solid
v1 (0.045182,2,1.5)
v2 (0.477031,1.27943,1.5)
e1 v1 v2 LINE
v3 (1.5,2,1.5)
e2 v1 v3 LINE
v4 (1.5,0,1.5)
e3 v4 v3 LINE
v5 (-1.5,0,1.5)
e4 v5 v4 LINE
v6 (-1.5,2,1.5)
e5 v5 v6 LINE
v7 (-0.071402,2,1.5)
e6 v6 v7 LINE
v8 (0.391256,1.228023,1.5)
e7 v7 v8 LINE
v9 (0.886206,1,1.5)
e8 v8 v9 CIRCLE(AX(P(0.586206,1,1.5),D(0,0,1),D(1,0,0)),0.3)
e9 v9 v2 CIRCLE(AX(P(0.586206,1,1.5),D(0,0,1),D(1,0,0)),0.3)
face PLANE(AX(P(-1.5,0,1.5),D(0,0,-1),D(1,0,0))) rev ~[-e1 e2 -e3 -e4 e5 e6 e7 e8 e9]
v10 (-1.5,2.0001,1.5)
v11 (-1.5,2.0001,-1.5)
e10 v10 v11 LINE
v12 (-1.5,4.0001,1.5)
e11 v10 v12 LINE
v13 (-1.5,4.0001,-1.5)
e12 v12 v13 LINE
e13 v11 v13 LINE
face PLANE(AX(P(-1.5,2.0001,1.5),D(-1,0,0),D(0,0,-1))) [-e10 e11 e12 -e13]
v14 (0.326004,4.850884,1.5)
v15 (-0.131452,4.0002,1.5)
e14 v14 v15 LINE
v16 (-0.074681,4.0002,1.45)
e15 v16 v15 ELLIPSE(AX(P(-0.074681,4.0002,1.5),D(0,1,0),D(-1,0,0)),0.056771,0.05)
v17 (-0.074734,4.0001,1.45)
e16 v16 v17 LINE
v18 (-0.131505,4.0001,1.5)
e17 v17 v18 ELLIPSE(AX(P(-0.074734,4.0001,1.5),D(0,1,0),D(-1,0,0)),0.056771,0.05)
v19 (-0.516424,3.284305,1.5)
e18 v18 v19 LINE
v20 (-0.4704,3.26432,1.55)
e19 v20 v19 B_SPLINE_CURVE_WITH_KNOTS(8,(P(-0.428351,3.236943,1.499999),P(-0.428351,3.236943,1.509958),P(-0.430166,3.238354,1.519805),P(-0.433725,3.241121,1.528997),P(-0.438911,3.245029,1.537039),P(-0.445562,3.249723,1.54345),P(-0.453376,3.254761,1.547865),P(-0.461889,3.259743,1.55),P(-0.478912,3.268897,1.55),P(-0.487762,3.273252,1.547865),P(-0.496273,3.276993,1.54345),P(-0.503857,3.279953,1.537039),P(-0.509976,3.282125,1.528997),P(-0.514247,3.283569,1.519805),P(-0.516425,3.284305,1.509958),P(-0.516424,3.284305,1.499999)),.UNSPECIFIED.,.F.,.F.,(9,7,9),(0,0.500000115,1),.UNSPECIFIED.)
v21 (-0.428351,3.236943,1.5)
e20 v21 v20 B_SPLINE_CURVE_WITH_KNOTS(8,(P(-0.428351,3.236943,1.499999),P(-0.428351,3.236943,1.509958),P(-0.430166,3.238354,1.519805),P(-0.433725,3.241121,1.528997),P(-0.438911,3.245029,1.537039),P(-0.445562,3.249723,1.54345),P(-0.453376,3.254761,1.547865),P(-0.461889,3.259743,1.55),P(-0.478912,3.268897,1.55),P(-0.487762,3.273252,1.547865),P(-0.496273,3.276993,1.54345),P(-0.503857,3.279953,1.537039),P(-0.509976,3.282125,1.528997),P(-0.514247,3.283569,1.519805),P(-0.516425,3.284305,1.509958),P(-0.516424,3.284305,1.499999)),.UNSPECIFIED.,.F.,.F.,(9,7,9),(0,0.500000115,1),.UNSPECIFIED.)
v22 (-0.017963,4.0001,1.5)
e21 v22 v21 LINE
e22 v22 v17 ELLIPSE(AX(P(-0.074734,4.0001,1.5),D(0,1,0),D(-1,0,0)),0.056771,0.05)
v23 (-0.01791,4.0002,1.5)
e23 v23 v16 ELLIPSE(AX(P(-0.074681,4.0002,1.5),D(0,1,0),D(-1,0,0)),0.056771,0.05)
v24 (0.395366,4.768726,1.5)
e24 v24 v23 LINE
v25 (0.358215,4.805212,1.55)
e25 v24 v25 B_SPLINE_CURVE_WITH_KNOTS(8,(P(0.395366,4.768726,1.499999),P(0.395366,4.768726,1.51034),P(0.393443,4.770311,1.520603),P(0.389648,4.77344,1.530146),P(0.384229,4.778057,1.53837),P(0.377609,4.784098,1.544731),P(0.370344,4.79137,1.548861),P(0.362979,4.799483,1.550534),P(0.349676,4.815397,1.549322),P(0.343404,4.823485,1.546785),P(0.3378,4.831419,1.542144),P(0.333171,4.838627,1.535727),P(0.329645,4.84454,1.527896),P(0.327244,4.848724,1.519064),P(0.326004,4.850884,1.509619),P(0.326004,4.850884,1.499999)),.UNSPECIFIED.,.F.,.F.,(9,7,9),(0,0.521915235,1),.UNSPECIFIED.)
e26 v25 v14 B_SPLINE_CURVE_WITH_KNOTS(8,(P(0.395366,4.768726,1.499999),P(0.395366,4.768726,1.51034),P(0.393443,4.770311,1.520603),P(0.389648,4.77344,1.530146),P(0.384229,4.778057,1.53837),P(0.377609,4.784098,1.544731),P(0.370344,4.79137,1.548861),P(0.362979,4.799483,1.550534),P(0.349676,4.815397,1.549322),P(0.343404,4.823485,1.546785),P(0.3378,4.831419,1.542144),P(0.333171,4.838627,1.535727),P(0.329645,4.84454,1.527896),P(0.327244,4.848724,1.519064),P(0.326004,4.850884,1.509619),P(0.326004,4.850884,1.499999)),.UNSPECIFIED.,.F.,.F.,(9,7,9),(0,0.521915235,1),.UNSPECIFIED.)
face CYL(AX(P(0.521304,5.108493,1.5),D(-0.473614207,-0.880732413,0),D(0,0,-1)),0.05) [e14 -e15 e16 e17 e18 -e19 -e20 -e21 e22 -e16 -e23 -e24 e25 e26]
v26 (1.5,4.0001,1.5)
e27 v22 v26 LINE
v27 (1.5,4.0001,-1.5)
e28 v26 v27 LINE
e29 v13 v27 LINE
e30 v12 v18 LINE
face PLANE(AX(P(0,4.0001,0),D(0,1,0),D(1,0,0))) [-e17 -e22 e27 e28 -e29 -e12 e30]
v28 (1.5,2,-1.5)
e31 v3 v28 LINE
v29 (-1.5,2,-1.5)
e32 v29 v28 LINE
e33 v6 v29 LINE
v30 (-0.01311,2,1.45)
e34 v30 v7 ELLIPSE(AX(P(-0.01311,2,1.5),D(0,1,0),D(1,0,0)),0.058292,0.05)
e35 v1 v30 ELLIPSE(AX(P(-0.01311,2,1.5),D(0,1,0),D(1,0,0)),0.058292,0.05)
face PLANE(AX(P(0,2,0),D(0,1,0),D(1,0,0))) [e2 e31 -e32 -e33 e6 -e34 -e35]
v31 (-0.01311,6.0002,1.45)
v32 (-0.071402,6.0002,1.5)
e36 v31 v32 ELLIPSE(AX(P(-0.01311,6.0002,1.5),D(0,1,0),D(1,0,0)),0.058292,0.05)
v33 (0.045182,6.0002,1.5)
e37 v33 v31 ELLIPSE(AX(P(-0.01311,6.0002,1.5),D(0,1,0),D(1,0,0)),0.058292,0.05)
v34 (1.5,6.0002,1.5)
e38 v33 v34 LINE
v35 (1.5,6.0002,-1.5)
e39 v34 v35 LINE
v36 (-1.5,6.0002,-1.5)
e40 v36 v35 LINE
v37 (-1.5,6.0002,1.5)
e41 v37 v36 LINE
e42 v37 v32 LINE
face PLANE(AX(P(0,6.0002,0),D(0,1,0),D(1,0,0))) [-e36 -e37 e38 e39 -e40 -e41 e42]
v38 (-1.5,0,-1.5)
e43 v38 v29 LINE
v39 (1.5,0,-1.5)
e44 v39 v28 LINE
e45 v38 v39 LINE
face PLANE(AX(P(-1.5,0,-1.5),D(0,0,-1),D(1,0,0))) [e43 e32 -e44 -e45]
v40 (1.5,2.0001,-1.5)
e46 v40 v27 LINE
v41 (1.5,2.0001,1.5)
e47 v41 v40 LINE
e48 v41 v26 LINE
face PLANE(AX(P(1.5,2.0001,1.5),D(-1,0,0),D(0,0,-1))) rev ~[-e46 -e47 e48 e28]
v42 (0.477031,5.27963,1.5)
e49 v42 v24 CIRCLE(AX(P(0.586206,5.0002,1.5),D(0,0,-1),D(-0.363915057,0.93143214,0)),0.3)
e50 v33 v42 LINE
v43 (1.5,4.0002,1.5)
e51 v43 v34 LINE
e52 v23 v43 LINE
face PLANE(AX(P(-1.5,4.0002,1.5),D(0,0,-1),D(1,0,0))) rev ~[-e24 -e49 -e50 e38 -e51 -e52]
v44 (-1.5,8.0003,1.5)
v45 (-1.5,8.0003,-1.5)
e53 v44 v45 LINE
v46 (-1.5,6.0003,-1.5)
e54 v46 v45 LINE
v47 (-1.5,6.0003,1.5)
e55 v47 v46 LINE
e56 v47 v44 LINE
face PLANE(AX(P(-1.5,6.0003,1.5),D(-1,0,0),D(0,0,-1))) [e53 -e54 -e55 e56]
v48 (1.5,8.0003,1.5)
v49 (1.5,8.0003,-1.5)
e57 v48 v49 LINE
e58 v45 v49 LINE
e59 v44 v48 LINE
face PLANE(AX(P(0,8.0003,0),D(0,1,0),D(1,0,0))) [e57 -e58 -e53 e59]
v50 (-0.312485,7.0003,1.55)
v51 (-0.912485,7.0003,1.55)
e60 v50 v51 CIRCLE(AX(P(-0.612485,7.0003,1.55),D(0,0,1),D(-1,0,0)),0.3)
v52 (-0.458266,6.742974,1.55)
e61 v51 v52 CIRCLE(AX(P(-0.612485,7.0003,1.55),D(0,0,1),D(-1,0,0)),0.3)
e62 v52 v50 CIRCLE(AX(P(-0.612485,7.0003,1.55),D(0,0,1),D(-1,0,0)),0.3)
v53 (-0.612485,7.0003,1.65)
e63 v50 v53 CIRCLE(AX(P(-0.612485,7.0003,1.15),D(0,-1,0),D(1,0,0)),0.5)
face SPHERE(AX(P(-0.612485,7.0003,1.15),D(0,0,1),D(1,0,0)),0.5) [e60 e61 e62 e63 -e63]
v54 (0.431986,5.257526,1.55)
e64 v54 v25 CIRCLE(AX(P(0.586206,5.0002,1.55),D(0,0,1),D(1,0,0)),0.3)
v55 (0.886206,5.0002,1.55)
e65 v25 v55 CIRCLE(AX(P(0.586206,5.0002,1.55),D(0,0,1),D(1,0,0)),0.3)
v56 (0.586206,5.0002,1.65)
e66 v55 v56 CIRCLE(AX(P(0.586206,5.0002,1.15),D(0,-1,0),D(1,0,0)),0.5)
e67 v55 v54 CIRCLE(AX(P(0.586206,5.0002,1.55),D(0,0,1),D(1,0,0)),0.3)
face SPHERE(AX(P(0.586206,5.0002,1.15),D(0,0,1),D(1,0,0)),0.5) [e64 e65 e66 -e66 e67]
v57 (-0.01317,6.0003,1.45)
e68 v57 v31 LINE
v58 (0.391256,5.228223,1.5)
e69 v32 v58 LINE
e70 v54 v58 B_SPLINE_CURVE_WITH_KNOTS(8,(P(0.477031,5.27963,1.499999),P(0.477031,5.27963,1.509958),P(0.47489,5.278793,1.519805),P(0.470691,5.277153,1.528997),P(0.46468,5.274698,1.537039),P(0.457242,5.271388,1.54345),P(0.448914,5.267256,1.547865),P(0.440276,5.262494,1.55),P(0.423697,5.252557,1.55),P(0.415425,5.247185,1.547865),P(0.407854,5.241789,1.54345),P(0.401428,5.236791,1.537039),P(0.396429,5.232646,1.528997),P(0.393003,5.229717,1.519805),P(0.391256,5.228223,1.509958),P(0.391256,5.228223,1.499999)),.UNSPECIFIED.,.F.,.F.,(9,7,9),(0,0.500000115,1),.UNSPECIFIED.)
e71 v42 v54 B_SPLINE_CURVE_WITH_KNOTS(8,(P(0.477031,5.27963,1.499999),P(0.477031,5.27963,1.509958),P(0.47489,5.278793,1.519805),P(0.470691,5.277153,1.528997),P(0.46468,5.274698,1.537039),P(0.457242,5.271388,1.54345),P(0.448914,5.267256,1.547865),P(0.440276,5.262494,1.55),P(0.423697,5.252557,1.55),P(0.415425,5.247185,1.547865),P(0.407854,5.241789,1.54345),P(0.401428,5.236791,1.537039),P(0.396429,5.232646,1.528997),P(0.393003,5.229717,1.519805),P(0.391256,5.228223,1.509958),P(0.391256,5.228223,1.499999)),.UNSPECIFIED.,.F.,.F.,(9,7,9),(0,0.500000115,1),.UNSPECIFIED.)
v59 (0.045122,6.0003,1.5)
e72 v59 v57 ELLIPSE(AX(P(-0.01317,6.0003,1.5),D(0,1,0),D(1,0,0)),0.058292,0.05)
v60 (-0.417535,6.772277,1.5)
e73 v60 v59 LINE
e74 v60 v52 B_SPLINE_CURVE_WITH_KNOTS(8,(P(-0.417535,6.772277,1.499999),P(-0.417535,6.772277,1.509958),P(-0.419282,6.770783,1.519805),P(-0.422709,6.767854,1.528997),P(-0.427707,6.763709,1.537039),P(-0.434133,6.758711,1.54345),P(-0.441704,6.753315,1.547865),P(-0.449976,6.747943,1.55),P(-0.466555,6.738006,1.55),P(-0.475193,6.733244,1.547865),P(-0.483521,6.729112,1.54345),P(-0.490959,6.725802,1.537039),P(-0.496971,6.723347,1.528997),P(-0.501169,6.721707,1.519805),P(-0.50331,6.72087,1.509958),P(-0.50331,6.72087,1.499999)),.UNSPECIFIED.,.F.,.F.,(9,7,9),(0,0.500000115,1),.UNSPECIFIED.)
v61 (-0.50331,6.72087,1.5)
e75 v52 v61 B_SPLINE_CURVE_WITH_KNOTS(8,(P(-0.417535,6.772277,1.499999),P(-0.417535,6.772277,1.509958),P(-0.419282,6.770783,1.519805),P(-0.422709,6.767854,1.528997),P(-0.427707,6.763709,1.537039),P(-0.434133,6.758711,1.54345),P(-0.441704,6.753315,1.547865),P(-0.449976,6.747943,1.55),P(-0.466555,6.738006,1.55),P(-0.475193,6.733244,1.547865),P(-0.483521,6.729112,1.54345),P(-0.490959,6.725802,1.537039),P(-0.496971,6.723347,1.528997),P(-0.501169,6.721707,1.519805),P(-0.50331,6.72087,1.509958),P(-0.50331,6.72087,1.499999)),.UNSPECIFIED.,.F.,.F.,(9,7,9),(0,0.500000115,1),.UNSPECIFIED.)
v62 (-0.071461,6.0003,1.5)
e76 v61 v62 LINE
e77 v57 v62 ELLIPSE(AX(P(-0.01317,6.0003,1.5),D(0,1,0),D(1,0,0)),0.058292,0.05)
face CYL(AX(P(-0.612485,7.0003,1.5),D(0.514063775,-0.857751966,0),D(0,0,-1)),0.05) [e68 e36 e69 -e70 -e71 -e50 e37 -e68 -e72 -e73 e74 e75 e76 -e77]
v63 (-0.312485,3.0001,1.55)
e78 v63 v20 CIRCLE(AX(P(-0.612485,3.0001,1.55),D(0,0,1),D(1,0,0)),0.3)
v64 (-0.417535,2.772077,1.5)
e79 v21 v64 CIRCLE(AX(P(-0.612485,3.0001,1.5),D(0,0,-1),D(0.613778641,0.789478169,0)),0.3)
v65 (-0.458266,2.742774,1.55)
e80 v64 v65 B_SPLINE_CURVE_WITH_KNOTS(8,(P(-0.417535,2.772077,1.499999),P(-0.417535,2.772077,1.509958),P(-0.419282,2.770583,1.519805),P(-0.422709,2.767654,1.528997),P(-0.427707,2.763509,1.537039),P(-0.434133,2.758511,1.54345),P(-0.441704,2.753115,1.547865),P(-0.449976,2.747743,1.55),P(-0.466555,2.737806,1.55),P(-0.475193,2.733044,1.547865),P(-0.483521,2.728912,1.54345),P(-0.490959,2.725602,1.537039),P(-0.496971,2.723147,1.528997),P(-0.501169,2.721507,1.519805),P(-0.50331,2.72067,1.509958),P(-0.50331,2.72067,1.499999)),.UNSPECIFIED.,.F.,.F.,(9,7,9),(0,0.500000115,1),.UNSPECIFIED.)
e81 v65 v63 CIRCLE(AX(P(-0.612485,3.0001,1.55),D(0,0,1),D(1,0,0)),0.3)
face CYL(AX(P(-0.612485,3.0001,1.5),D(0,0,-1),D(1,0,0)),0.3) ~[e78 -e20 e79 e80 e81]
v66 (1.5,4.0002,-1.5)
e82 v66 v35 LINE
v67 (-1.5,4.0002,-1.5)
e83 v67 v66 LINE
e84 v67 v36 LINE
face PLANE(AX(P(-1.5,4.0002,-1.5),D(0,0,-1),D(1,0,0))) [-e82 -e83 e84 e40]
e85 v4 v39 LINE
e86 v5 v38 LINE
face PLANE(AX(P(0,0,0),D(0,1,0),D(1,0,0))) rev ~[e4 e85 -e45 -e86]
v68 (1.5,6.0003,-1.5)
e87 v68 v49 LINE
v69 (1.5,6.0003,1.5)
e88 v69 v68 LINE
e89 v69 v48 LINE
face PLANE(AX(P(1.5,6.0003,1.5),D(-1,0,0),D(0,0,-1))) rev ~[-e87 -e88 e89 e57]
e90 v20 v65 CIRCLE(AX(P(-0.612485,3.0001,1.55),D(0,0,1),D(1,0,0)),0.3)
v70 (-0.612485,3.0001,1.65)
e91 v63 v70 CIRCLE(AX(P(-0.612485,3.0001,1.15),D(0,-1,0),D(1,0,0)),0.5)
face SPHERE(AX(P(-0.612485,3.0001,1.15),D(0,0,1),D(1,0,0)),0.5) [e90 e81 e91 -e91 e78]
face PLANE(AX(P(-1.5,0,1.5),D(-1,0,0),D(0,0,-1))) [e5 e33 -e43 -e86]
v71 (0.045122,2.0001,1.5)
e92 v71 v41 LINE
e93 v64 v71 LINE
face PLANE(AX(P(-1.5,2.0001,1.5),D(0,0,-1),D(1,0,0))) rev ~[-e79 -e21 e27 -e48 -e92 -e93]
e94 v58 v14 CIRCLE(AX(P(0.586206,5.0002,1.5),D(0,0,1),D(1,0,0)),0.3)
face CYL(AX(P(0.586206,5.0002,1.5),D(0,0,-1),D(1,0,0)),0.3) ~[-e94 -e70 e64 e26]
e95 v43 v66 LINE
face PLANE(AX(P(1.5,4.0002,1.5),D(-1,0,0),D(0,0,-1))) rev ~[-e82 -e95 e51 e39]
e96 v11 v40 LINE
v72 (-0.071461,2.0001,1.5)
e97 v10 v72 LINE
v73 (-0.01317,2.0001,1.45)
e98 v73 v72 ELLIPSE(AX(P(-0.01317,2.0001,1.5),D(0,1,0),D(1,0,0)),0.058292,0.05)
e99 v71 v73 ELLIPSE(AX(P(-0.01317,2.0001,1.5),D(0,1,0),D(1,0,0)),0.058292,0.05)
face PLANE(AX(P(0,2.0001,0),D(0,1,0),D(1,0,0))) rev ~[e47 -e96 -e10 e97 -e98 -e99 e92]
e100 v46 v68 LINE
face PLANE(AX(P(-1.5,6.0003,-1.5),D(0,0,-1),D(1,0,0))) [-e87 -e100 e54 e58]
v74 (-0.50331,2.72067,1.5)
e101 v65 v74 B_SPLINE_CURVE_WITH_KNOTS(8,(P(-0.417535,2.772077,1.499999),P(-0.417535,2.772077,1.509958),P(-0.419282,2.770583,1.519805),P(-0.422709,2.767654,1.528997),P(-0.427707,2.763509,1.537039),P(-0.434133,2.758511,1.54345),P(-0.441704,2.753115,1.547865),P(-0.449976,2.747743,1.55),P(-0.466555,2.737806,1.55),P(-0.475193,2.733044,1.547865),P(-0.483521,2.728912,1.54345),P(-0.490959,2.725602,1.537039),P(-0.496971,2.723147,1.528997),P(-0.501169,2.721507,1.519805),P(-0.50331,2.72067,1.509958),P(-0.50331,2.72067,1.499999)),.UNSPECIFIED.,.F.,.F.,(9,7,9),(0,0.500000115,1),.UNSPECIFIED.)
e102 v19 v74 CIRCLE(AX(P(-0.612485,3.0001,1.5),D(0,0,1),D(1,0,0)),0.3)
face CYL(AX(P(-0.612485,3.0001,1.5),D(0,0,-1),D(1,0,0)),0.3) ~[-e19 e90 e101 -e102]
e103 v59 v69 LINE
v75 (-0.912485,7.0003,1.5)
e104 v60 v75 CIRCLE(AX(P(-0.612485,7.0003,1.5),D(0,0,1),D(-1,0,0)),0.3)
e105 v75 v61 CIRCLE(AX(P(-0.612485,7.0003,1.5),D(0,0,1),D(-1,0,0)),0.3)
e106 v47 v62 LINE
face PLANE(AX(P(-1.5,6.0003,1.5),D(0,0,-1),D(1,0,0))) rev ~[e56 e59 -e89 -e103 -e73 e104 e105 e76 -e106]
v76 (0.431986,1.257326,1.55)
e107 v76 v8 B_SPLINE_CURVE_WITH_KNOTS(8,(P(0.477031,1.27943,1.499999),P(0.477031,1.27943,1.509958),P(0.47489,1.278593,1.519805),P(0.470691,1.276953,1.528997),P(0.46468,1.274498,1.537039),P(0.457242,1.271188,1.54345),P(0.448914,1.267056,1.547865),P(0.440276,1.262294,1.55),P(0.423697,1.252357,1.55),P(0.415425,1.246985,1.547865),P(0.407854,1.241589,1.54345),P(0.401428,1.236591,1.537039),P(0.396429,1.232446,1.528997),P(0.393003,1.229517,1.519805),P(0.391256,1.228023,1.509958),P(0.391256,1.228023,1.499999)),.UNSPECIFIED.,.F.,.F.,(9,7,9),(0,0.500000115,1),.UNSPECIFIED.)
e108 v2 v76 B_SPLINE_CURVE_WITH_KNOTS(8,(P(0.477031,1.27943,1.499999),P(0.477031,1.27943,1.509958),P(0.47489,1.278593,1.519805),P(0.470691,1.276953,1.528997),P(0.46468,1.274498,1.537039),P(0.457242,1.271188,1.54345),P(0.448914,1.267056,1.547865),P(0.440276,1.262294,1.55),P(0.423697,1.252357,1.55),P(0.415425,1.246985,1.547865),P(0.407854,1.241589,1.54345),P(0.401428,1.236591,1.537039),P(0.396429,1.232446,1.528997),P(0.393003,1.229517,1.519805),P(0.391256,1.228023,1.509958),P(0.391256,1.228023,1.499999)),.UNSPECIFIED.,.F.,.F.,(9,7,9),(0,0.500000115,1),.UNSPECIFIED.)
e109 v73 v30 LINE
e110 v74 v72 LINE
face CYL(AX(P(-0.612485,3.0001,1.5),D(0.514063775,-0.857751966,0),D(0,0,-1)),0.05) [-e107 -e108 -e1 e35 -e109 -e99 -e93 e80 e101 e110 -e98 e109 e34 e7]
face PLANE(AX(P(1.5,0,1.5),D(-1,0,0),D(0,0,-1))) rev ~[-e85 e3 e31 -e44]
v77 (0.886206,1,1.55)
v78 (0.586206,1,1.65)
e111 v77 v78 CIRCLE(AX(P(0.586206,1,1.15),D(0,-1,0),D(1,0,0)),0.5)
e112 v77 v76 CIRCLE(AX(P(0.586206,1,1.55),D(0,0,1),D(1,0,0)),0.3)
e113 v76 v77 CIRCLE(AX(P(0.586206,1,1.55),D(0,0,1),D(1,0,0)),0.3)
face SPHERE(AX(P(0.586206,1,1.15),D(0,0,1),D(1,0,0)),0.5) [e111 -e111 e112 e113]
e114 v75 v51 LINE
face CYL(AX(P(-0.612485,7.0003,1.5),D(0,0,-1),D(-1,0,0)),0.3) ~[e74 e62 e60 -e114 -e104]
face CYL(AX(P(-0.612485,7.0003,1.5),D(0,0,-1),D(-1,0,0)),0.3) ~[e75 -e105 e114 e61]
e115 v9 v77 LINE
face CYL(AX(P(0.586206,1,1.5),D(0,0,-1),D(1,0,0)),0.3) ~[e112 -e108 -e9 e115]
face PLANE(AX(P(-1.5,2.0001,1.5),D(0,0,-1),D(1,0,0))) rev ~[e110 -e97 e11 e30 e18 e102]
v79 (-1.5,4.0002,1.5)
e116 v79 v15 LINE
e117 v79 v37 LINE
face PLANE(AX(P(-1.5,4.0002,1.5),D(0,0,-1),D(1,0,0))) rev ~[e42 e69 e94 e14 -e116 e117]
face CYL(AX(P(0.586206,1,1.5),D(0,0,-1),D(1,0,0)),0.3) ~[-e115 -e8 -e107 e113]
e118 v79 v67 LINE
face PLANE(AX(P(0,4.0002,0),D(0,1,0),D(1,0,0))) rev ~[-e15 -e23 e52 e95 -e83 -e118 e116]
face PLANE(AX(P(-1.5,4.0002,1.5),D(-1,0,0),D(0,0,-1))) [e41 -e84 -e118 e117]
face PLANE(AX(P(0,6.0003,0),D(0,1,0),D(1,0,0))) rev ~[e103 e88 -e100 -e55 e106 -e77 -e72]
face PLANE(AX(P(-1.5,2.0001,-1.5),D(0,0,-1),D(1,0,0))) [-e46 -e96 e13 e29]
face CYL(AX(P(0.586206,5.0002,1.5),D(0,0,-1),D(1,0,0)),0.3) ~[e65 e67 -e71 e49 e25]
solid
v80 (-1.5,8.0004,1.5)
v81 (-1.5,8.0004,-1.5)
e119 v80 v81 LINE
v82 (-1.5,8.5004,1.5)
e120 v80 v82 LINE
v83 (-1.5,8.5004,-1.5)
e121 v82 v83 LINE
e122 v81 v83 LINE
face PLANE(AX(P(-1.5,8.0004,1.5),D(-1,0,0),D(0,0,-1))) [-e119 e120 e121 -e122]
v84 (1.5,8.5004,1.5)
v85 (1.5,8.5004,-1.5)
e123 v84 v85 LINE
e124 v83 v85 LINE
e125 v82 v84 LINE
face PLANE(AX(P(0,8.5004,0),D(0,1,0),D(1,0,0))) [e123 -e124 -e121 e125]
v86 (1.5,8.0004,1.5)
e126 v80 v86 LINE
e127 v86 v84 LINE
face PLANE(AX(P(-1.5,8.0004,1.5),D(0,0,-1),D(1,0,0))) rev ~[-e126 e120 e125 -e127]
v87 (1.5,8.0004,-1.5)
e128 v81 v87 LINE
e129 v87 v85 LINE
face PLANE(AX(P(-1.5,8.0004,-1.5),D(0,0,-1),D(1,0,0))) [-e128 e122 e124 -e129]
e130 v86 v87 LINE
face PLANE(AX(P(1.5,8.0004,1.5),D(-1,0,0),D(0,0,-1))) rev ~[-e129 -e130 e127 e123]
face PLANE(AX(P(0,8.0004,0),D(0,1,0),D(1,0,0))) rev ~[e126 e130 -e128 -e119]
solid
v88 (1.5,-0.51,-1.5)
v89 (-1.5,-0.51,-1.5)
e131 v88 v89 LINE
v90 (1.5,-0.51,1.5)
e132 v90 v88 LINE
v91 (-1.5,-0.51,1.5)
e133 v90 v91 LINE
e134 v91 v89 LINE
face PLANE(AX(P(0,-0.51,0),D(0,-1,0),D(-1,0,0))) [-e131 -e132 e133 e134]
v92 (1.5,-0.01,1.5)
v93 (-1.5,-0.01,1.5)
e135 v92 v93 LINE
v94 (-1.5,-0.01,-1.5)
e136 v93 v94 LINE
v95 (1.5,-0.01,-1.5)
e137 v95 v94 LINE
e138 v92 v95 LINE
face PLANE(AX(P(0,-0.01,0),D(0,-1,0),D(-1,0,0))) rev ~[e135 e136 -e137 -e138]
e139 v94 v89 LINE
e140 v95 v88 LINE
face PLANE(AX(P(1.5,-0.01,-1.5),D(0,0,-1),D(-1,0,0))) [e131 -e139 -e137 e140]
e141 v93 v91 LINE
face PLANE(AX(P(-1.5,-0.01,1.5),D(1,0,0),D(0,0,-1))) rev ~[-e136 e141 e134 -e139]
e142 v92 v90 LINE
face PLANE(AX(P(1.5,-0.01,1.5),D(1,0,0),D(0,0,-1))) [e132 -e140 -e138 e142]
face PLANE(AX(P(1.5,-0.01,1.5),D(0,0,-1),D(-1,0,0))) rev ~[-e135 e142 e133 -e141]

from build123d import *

# Parameters (mm, degrees)
SKETCH1_W           = 3
SKETCH1_H           = 3
BOSS_EXTRUDE1_DEPTH = 2
LPATTERN3_COUNT     = 4
LPATTERN3_PITCH     = 2.0001
SKETCH2_W           = 3
SKETCH2_H           = 3
BOSS_EXTRUDE2_DEPTH = 0.5
SKETCH7_R           = 0.3
BOSS_EXTRUDE6_DEPTH = 0.05
DOME1_FACE_RADIUS   = 0.3
DOME1_HEIGHT        = 0.1
DOME5_FACE_RADIUS   = 0.3
DOME5_HEIGHT        = 0.1
DOME6_FACE_RADIUS   = 0.3
DOME6_HEIGHT        = 0.1
DOME7_FACE_RADIUS   = 0.3
DOME7_HEIGHT        = 0.1
SKETCH9_R           = 0.05
SKETCH34_W          = 3
SKETCH34_H          = 3
BOSS_EXTRUDE7_DEPTH = 0.5


with BuildPart() as part:
    # Sketch1 → Boss-Extrude1 (new body)
    with BuildSketch(Plane(origin=(0, 0, 0), x_dir=(1, 0, 0), z_dir=(0, 1, 0))):
        Rectangle(SKETCH1_W, SKETCH1_H)
    extrude(amount=BOSS_EXTRUDE1_DEPTH)


with BuildPart() as lpattern3_1:
    # LPattern3: pattern copy
    add(part.part.moved(Location(Vector(0, 1, 0) * (1 * LPATTERN3_PITCH))))


with BuildPart() as lpattern3_2:
    # LPattern3: pattern copy
    add(part.part.moved(Location(Vector(0, 1, 0) * (2 * LPATTERN3_PITCH))))


with BuildPart() as lpattern3_3:
    # LPattern3: pattern copy
    add(part.part.moved(Location(Vector(0, 1, 0) * (3 * LPATTERN3_PITCH))))

    # Sketch7 → Boss-Extrude6 (add)
    with BuildSketch(Plane.XY.offset(1.5)):
        with Locations(Location((-0.612484748, 7.0003, 0), (0, 0, 180))):
            Circle(SKETCH7_R)
        with Locations((0.586205547, 5.0002)):
            Circle(SKETCH7_R)
        with Locations((-0.612484748, 3.0001)):
            Circle(SKETCH7_R)
        with Locations((0.586205547, 1)):
            Circle(SKETCH7_R)
    extrude(amount=BOSS_EXTRUDE6_DEPTH)


with BuildPart() as body_5:
    # Sketch2 → Boss-Extrude2 (new body)
    with BuildSketch(Plane(origin=(0, -0.01, 0), x_dir=(-1, 0, 0), z_dir=(0, -1, 0))):
        Rectangle(SKETCH2_W, SKETCH2_H)
    extrude(amount=BOSS_EXTRUDE2_DEPTH)


with BuildPart() as boss_extrude6_piece_1:
    # of the separate pieces the step leaves, piece 1, a body of its own (boss_extrude6_pieces)
    add(lpattern3_3.part.solids().sort_by_distance((-1.5, 6.0003, -1.5))[0])

    # Dome1: a dome of height H over a round flat face of radius A is a cap of a sphere of radius (A * A + H * H) / (2 * H)
    dome1_r = (DOME1_FACE_RADIUS * DOME1_FACE_RADIUS + DOME1_HEIGHT * DOME1_HEIGHT) / (2 * DOME1_HEIGHT)
    dome1_base = Plane((-0.612484748, 7.0003, 1.55), z_dir=(0, 0, 1))
    with Locations(dome1_base.offset(DOME1_HEIGHT - dome1_r)):
        dome1_ball = Sphere(dome1_r, mode=Mode.PRIVATE)
    add(split(dome1_ball, bisect_by=dome1_base, keep=Keep.TOP, mode=Mode.PRIVATE))


with BuildPart() as boss_extrude6_piece_2:
    # of the separate pieces the step leaves, piece 2, a body of its own (boss_extrude6_pieces)
    add(lpattern3_3.part.solids().sort_by_distance((0.886205547, 5.0002, 1.5))[0])

    # Dome5: a dome of height H over a round flat face of radius A is a cap of a sphere of radius (A * A + H * H) / (2 * H)
    dome5_r = (DOME5_FACE_RADIUS * DOME5_FACE_RADIUS + DOME5_HEIGHT * DOME5_HEIGHT) / (2 * DOME5_HEIGHT)
    dome5_base = Plane((0.586205547, 5.0002, 1.55), z_dir=(0, 0, 1))
    with Locations(dome5_base.offset(DOME5_HEIGHT - dome5_r)):
        dome5_ball = Sphere(dome5_r, mode=Mode.PRIVATE)
    add(split(dome5_ball, bisect_by=dome5_base, keep=Keep.TOP, mode=Mode.PRIVATE))


with BuildPart() as boss_extrude6_piece_3:
    # of the separate pieces the step leaves, piece 3, a body of its own (boss_extrude6_pieces)
    add(lpattern3_3.part.solids().sort_by_distance((0.886205547, 1, 1.5))[0])

    # Dome7: a dome of height H over a round flat face of radius A is a cap of a sphere of radius (A * A + H * H) / (2 * H)
    dome7_r = (DOME7_FACE_RADIUS * DOME7_FACE_RADIUS + DOME7_HEIGHT * DOME7_HEIGHT) / (2 * DOME7_HEIGHT)
    dome7_base = Plane((0.586205547, 1, 1.55), z_dir=(0, 0, 1))
    with Locations(dome7_base.offset(DOME7_HEIGHT - dome7_r)):
        dome7_ball = Sphere(dome7_r, mode=Mode.PRIVATE)
    add(split(dome7_ball, bisect_by=dome7_base, keep=Keep.TOP, mode=Mode.PRIVATE))


with BuildPart() as boss_extrude6_piece_4:
    # of the separate pieces the step leaves, piece 4, a body of its own (boss_extrude6_pieces)
    add(lpattern3_3.part.solids().sort_by_distance((-0.312484748, 3.0001, 1.5))[0])

    # Dome6: a dome of height H over a round flat face of radius A is a cap of a sphere of radius (A * A + H * H) / (2 * H)
    dome6_r = (DOME6_FACE_RADIUS * DOME6_FACE_RADIUS + DOME6_HEIGHT * DOME6_HEIGHT) / (2 * DOME6_HEIGHT)
    dome6_base = Plane((-0.612484748, 3.0001, 1.55), z_dir=(0, 0, 1))
    with Locations(dome6_base.offset(DOME6_HEIGHT - dome6_r)):
        dome6_ball = Sphere(dome6_r, mode=Mode.PRIVATE)
    add(split(dome6_ball, bisect_by=dome6_base, keep=Keep.TOP, mode=Mode.PRIVATE))


with BuildPart() as part_1:
    add(part.part)

    add(lpattern3_1.part)  # Sweep1 merges LPattern3_1

    add(lpattern3_2.part)  # Sweep1 merges LPattern3_2

    add(boss_extrude6_piece_1.part)  # Sweep1 merges Boss-Extrude6 piece 1

    add(boss_extrude6_piece_2.part)  # Sweep1 merges Boss-Extrude6 piece 2

    add(boss_extrude6_piece_3.part)  # Sweep1 merges Boss-Extrude6 piece 3

    add(boss_extrude6_piece_4.part)  # Sweep1 merges Boss-Extrude6 piece 4
    # Sweep1: sweep along a path in Sketch8
    with BuildLine(Plane.XY.offset(1.5)) as sweep1_path:
        Line((-0.612484748, 7.0003), (0.521304183, 5.108492541))
        Line((0.521304183, 5.108492541), (-0.612484748, 3.0001))
        Line((-0.612484748, 3.0001), (0.586205547, 1))
    # Sketch9 → Sweep1 (sweep)
    with BuildSketch(Plane(origin=(-0.612484748, 7.0003, 1.5), x_dir=(0, 0, -1), z_dir=(0.5140637754126949, -0.8577519657852418, 0))):
        Circle(SKETCH9_R)
    sweep(path=sweep1_path.line, transition=Transition.RIGHT)


with BuildPart() as body_3:
    # Sketch34 → Boss-Extrude7 (new body)
    with BuildSketch(Plane(origin=(0, 8.0004, 0), x_dir=(1, 0, 0), z_dir=(0, 1, 0))):
        Rectangle(SKETCH34_W, SKETCH34_H)
    extrude(amount=BOSS_EXTRUDE7_DEPTH)


solid = Compound([body_5.part, part_1.part, body_3.part])
